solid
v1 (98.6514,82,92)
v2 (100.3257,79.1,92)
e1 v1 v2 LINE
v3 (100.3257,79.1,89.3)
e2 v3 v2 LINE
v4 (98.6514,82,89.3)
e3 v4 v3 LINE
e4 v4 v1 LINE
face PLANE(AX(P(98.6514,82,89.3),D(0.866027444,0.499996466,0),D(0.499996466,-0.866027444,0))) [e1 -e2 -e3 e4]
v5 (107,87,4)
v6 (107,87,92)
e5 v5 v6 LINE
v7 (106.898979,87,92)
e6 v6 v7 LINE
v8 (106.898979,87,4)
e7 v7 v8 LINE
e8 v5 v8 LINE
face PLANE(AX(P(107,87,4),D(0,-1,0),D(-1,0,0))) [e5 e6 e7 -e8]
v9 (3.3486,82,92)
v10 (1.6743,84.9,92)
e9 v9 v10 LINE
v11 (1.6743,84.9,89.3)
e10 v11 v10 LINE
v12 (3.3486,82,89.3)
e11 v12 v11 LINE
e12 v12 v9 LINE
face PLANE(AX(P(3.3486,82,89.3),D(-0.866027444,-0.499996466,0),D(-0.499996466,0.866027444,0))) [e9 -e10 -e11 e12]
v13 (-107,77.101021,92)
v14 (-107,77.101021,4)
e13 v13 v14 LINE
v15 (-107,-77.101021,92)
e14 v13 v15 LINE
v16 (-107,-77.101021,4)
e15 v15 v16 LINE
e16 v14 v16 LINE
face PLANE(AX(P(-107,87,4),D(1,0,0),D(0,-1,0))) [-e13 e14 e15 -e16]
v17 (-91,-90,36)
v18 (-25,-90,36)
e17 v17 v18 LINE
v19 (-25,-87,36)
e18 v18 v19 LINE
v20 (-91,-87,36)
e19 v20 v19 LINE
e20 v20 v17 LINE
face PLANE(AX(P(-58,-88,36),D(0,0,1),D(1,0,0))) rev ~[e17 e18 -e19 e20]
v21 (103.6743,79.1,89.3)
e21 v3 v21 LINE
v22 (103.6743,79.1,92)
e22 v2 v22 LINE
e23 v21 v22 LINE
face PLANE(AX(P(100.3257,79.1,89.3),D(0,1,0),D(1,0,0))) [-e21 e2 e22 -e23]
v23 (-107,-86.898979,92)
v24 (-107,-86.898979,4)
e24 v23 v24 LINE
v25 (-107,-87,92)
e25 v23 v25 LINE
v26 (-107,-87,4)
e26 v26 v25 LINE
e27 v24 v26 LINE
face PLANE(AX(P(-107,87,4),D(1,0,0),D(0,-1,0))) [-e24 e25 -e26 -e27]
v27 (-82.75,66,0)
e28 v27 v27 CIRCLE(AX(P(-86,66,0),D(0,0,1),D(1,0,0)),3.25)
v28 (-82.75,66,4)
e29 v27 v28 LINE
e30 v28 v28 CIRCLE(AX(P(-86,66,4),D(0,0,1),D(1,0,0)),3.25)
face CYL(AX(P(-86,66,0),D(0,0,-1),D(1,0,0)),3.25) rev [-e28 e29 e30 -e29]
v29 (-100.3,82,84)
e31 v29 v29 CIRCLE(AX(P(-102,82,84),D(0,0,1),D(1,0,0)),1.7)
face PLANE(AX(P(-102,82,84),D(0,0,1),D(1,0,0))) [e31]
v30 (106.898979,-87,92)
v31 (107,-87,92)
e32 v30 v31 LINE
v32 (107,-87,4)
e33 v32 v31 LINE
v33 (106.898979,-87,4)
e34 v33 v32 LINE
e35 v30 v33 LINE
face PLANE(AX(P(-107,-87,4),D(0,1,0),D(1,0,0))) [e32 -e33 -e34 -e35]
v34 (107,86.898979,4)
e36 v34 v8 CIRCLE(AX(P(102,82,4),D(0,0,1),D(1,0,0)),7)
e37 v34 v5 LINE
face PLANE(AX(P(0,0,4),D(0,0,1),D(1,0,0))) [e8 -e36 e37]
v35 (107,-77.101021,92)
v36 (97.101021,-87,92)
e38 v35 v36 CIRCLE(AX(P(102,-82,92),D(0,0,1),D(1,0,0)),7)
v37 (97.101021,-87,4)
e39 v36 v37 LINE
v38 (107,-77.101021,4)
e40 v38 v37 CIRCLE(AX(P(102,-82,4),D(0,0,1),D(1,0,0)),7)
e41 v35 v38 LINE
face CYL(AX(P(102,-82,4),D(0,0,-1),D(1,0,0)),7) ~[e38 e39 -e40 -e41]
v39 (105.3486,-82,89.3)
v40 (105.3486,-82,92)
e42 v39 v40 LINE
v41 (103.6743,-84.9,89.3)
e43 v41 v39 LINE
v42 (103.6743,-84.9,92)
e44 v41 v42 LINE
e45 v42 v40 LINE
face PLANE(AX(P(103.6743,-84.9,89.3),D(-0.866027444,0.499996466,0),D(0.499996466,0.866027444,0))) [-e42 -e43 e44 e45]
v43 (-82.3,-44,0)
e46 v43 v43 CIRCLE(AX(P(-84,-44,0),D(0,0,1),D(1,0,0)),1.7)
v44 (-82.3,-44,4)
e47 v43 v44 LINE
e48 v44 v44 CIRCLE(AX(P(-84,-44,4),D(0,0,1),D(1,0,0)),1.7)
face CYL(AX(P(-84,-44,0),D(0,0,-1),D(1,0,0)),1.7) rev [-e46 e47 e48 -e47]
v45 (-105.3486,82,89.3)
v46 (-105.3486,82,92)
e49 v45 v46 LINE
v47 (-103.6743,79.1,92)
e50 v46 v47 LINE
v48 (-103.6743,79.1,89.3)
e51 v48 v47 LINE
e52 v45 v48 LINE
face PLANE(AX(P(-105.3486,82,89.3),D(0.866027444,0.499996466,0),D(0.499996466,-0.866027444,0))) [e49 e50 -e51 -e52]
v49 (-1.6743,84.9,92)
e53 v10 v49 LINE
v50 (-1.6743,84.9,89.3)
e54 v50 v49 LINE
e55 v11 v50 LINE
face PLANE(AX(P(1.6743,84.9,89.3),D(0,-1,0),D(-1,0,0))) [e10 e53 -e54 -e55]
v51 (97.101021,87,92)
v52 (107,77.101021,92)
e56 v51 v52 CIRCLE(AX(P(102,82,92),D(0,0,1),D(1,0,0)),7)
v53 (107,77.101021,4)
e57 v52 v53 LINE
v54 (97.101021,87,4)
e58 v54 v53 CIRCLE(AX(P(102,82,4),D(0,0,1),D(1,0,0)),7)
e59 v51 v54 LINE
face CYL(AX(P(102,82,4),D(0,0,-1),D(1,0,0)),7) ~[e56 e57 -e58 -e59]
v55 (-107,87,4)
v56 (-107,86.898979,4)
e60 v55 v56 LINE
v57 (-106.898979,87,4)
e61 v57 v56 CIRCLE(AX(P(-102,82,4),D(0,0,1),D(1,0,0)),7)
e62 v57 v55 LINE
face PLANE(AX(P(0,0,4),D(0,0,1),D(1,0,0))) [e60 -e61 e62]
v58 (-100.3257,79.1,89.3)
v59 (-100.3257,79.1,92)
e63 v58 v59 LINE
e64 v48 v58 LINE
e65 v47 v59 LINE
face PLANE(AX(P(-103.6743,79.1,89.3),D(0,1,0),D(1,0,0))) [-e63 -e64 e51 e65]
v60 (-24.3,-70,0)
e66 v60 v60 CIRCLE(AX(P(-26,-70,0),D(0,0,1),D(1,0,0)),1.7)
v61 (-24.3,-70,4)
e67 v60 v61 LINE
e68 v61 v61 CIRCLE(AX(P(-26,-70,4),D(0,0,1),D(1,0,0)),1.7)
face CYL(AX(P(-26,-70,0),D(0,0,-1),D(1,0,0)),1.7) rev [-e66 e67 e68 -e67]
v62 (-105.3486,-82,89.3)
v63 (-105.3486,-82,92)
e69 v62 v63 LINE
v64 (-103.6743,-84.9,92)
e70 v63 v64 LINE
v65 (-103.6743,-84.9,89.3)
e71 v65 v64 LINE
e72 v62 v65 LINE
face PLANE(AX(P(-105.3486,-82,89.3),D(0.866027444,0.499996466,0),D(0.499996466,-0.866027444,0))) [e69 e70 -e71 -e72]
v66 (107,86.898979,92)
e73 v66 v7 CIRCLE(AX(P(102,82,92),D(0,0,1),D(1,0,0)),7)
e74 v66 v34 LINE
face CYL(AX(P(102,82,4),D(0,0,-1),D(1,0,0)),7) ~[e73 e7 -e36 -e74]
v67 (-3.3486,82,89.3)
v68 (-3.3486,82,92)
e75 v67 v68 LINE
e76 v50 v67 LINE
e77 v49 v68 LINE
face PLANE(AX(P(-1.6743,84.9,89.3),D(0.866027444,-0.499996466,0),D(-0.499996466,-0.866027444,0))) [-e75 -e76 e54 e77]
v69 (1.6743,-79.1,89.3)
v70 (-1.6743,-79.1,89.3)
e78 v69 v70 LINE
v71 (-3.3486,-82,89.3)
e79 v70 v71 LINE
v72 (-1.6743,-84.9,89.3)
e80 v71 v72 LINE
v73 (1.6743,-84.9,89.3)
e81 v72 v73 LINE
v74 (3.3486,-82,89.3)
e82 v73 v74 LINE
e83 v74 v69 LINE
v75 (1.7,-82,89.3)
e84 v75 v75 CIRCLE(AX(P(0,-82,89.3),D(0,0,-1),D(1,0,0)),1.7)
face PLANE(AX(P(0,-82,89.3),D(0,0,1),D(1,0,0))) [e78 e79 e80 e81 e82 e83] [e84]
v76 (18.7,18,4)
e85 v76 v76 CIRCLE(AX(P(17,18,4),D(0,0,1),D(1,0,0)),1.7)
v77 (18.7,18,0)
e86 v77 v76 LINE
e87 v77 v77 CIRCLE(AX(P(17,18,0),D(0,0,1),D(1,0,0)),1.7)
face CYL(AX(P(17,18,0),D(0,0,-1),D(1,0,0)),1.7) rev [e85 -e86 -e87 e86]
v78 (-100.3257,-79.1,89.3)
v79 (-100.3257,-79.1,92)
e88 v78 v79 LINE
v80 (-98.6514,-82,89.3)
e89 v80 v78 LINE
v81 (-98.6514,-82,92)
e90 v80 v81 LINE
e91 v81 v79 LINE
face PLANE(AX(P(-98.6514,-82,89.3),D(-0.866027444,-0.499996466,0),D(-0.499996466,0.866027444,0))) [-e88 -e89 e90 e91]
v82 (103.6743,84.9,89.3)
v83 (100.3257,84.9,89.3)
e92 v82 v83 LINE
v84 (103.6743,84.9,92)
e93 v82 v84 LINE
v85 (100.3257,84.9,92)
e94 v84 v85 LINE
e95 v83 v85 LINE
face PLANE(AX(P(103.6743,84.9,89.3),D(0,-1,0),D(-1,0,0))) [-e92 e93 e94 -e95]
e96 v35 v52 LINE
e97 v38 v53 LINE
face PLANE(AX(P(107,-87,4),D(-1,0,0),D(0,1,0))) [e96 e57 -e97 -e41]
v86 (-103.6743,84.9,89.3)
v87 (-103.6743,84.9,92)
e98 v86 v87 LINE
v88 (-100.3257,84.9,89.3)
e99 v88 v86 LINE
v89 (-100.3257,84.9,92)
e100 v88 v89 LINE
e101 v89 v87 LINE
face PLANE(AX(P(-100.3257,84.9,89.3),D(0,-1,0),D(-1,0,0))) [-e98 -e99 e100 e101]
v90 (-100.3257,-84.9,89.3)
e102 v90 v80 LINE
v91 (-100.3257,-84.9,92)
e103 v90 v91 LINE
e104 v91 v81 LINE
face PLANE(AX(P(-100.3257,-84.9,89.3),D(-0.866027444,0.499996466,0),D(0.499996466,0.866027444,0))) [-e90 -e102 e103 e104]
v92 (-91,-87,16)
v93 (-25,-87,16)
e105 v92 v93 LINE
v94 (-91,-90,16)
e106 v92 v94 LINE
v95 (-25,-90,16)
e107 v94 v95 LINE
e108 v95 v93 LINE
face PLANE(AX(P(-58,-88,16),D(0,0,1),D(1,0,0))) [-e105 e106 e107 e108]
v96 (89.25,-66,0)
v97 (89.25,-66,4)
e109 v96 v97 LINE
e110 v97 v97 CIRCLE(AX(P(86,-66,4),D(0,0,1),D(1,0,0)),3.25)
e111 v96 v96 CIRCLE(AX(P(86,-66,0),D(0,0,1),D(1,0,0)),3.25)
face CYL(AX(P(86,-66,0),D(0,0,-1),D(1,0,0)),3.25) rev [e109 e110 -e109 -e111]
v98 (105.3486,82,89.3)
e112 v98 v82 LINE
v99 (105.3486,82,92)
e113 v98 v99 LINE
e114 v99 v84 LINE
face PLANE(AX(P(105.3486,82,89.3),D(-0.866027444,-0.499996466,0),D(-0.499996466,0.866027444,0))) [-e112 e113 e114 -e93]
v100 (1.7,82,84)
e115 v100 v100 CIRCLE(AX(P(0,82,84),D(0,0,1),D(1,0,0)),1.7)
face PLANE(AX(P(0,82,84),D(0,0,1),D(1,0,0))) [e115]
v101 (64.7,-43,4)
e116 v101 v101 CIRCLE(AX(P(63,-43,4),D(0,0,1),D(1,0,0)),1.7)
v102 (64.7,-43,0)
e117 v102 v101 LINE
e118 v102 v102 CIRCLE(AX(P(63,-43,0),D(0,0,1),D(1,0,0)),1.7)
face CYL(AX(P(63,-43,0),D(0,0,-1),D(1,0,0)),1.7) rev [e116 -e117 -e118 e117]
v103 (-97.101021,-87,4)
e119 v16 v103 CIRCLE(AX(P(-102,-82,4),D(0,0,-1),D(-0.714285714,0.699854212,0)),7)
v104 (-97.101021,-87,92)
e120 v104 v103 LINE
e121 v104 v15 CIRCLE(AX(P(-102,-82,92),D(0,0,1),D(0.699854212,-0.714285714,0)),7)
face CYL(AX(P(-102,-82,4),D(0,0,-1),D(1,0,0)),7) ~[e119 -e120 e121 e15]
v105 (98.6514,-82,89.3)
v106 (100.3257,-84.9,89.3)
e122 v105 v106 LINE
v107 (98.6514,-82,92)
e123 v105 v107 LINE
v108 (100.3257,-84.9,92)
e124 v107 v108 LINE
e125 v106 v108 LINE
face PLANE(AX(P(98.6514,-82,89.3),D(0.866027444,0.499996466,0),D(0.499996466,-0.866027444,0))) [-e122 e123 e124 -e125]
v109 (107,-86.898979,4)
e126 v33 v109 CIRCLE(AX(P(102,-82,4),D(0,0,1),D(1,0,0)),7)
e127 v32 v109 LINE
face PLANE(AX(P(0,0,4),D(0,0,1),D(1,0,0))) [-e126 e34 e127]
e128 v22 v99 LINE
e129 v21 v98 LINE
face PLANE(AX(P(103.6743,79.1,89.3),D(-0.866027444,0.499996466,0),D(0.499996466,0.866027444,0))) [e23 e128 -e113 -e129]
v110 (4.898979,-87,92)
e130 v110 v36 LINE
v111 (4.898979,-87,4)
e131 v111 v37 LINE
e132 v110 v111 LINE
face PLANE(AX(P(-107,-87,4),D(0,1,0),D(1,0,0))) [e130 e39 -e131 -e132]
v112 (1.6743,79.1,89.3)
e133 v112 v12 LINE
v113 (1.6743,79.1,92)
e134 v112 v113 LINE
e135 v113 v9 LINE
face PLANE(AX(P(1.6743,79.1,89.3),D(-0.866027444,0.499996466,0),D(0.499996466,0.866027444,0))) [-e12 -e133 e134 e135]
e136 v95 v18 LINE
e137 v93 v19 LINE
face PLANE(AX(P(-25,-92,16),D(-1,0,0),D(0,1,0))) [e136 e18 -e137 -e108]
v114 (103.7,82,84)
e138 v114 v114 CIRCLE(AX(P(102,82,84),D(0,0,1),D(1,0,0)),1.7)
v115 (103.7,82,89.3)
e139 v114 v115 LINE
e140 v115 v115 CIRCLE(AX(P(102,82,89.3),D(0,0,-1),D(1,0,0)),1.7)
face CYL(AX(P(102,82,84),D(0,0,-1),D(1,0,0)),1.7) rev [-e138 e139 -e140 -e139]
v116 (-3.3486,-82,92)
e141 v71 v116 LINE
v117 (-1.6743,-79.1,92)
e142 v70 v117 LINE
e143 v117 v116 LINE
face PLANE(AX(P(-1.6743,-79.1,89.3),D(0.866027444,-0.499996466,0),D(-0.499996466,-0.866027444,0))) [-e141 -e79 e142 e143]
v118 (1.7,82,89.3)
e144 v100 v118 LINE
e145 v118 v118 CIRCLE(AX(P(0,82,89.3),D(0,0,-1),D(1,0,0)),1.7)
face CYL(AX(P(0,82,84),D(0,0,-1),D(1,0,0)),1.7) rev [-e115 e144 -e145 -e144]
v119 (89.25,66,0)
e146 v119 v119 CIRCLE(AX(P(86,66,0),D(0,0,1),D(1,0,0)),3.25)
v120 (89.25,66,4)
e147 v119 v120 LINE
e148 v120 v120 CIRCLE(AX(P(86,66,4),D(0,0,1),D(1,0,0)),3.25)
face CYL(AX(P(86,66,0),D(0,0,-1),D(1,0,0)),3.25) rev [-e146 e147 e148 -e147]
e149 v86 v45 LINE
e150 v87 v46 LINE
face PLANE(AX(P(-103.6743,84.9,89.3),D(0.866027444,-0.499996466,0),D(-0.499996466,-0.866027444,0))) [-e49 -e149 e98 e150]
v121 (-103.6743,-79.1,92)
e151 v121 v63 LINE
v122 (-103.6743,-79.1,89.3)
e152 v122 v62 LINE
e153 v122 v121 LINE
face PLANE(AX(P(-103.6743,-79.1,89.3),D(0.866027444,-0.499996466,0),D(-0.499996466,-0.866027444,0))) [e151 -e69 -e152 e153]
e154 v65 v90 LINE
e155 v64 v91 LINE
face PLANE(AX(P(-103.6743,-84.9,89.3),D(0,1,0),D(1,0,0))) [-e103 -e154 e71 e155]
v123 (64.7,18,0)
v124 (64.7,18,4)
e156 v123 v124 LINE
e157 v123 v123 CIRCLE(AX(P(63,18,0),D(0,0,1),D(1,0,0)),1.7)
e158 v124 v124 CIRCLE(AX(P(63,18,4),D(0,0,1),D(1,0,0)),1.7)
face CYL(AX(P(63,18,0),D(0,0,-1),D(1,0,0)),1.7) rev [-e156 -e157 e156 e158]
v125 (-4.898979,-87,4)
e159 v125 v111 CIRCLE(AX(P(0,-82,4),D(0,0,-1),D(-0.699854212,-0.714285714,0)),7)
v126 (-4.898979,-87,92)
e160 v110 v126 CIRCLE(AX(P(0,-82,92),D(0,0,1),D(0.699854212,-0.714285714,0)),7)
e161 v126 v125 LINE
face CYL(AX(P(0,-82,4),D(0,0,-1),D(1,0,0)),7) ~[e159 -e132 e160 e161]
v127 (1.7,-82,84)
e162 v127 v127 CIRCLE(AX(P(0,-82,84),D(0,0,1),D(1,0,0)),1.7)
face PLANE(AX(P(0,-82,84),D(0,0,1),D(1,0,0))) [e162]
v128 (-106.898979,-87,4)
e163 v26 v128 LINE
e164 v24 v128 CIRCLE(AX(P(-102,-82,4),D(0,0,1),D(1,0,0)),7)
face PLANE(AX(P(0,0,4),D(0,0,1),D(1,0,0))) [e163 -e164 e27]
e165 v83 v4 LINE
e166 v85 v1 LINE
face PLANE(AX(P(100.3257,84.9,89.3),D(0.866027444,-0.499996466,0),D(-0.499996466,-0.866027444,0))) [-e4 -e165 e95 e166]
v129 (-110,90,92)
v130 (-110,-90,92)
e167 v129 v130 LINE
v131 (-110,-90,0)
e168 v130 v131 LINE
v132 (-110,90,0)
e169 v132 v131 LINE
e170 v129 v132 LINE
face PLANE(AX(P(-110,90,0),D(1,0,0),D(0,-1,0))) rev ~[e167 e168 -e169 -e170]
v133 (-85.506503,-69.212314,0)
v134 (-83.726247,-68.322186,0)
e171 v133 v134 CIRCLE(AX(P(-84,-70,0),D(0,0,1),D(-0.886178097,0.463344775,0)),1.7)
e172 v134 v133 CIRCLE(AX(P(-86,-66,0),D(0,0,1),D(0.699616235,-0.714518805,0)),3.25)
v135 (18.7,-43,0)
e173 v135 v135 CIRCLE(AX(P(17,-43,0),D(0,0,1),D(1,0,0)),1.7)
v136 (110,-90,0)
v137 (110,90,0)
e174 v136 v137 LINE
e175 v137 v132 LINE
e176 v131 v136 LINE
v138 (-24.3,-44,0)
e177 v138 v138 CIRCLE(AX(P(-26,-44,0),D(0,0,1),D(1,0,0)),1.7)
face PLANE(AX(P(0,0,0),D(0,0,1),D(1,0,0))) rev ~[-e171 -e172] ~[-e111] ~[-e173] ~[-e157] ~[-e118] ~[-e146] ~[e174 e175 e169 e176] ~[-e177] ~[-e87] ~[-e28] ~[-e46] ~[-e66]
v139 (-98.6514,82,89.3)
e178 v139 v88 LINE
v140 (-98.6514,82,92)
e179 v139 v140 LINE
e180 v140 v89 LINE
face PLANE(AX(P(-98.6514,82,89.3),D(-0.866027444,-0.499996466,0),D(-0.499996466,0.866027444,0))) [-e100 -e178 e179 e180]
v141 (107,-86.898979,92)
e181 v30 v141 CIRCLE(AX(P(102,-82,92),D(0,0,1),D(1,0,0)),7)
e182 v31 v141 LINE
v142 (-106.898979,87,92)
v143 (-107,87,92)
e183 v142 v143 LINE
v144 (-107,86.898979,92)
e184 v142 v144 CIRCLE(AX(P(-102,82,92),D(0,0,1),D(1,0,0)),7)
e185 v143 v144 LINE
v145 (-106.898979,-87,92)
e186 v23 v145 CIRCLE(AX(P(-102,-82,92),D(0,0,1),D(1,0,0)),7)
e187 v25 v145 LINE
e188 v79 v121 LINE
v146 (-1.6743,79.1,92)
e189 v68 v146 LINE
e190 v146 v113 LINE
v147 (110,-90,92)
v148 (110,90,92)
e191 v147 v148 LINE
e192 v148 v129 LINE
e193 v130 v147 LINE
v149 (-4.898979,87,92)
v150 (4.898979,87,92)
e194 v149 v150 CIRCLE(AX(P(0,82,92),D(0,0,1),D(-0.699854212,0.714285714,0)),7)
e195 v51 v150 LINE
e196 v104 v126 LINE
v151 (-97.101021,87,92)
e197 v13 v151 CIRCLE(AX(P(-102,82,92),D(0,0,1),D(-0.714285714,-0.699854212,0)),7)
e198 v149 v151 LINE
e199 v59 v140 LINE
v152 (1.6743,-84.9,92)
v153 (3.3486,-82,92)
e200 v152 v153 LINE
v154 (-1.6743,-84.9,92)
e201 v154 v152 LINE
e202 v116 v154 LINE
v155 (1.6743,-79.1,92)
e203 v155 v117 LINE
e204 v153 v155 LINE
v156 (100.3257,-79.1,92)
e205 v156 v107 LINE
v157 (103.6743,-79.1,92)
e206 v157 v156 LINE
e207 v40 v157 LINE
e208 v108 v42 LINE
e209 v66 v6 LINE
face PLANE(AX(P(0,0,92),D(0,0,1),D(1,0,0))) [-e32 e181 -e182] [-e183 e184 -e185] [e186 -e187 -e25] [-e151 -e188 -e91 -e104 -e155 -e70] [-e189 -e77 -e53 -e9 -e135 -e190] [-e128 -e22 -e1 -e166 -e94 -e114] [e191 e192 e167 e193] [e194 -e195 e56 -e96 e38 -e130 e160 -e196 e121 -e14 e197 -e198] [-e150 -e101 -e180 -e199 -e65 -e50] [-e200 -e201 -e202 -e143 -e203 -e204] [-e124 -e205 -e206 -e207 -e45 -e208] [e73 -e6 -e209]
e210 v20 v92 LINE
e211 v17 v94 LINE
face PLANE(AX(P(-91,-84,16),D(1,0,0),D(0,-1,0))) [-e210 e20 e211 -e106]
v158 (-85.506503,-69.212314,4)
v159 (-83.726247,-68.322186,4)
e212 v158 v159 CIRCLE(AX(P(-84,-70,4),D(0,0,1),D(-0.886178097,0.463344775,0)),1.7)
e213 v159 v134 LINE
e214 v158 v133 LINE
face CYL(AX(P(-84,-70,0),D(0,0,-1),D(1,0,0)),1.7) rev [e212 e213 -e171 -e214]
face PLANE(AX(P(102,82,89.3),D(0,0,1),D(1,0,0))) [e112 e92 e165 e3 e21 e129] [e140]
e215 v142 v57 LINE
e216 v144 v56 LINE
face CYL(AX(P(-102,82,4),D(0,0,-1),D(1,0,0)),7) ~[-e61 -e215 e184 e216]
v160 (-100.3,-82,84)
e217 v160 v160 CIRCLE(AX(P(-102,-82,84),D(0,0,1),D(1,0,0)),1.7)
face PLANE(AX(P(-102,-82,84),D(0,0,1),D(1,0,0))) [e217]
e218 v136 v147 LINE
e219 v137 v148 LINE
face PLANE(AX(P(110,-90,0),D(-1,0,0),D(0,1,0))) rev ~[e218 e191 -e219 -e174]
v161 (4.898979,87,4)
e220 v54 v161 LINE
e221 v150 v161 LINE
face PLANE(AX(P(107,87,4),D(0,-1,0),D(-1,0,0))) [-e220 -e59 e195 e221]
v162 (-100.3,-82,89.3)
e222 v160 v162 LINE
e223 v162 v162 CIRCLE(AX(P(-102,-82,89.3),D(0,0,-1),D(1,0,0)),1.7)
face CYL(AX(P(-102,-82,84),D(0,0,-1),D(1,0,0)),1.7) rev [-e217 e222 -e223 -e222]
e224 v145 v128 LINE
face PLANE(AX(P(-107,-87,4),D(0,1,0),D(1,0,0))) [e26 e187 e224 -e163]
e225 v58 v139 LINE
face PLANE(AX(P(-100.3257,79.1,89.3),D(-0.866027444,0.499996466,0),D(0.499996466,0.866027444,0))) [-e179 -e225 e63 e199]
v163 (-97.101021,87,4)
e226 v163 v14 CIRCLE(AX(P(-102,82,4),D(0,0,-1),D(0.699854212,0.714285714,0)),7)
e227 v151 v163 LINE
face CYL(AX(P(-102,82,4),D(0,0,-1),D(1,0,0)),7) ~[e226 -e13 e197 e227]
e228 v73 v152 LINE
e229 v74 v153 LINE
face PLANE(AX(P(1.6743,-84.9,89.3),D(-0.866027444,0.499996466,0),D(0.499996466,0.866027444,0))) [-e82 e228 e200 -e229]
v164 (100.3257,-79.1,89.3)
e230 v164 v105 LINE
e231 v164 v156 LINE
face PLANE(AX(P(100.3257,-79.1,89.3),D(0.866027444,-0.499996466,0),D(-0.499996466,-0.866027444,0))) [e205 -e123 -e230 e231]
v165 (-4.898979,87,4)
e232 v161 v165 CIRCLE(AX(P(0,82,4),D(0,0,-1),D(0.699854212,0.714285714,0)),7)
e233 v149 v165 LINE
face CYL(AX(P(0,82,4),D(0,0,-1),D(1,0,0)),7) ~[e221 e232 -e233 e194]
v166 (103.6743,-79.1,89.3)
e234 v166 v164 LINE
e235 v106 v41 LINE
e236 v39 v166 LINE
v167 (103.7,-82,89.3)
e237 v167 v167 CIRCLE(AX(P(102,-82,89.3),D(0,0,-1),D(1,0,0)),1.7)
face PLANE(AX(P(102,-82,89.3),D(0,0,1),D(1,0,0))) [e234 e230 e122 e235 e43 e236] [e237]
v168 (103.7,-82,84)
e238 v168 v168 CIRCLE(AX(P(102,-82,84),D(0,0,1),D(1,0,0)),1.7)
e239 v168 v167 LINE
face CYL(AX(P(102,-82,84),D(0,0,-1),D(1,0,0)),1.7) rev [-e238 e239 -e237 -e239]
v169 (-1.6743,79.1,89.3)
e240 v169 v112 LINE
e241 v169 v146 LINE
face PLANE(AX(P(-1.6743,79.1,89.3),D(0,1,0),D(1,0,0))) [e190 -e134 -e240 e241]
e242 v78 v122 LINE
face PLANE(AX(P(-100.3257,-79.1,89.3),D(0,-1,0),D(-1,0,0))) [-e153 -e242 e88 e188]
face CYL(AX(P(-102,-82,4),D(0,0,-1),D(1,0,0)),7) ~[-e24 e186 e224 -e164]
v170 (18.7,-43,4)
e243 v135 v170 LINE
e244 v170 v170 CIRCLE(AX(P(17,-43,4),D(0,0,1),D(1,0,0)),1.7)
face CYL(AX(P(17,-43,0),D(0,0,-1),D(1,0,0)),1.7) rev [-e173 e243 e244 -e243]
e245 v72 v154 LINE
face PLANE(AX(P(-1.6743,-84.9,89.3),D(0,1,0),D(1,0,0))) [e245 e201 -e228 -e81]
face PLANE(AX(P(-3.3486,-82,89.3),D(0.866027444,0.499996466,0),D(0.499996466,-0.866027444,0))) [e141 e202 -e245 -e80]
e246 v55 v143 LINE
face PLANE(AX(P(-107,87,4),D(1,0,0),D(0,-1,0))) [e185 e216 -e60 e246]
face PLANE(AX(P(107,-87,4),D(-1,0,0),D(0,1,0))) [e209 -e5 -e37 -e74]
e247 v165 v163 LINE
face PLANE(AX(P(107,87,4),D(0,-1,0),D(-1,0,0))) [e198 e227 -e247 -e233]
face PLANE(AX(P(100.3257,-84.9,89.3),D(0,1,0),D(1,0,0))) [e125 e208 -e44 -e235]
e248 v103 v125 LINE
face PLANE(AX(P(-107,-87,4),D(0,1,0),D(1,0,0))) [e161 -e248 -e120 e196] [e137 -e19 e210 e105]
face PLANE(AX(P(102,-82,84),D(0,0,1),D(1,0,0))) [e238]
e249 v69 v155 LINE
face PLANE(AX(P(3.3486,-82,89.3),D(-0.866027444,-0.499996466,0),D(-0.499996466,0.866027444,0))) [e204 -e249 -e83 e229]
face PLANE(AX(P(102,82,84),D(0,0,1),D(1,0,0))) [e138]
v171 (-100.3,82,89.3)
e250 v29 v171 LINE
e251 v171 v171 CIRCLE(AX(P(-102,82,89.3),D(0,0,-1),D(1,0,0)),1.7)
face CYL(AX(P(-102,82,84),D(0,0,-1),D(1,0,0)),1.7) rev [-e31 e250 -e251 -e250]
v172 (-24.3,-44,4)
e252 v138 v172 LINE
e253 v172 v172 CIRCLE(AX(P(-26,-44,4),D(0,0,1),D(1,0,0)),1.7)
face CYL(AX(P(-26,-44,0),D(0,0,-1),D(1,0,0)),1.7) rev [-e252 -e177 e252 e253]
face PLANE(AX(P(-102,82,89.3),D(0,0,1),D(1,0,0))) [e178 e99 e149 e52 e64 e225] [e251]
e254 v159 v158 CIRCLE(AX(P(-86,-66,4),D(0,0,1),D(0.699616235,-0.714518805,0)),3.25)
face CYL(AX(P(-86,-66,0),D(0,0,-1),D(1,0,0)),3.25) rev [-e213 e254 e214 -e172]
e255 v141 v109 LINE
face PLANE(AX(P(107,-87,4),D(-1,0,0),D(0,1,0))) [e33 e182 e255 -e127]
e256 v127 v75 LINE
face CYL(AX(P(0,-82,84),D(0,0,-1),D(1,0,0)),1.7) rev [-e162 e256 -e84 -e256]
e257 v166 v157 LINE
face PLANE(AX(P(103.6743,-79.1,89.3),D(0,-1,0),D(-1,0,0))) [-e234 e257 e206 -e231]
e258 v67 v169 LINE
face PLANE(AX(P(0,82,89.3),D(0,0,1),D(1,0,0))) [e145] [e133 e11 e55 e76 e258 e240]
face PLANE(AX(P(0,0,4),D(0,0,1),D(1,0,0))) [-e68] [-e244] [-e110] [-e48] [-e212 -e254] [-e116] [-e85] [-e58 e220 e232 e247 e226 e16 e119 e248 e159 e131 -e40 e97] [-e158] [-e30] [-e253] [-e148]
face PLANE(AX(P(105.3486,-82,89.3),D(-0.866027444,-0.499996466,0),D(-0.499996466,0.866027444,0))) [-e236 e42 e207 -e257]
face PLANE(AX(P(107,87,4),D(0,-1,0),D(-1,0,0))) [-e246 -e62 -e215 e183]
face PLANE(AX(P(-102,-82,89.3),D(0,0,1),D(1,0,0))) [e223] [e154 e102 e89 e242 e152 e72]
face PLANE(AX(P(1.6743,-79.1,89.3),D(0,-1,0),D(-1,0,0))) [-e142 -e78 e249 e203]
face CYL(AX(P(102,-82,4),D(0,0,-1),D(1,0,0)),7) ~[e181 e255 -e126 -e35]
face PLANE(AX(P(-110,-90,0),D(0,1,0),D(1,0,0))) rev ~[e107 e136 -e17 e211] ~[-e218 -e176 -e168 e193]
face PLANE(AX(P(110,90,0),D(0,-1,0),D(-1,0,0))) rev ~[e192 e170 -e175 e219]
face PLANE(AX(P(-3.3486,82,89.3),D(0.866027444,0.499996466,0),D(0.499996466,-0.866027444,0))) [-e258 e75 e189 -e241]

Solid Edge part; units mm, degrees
sketch "Sketch1" plane through (0, 0, 0) normal (0, 0, 1) x (1, 0, 0)
  line L0 (-110, -90) -> (110, -90)
  line L1 (110, -90) -> (110, 90)
  line L2 (110, 90) -> (-110, 90)
  line L3 (-110, 90) -> (-110, -90)
  circle A0 centre (-86, -66) radius 3.25
  circle A1 centre (-86, 66) radius 3.25
  circle A2 centre (86, -66) radius 3.25
  circle A3 centre (86, 66) radius 3.25
extrude "Protrusion1" add sketch "Sketch1" along normal blind 4
sketch "Sketch2" plane through (0, 0, 4) normal (0, 0, 1) x (1, 0, 0)
  line L0 (-110, -90) -> (110, -90)
  line L1 (110, -90) -> (110, 90)
  line L2 (110, 90) -> (-110, 90)
  line L3 (-110, 90) -> (-110, -90)
  line L4 (-107, -87) -> (107, -87)
  line L5 (107, -87) -> (107, 87)
  line L6 (107, 87) -> (-107, 87)
  line L7 (-107, 87) -> (-107, -87)
extrude "ExtrudedProtrusion_2" add sketch "Sketch2" along normal blind 88
sketch "Sketch3" plane through (0, 0, 4) normal (0, 0, 1) x (1, 0, 0)
  circle A0 centre (-102, -82) radius 7
extrude "ExtrudedProtrusion_3" add sketch "Sketch3" along normal blind 88
sketch "Sketch4" plane through (0, 0, 4) normal (0, 0, 1) x (1, 0, 0)
  circle A0 centre (-102, 82) radius 7
extrude "ExtrudedProtrusion_4" add sketch "Sketch4" along normal blind 88
sketch "Sketch5" plane through (0, 0, 4) normal (0, 0, 1) x (1, 0, 0)
  circle A0 centre (102, -82) radius 7
extrude "ExtrudedProtrusion_5" add sketch "Sketch5" along normal blind 88
sketch "Sketch6" plane through (0, 0, 4) normal (0, 0, 1) x (1, 0, 0)
  circle A0 centre (102, 82) radius 7
extrude "ExtrudedProtrusion_6" add sketch "Sketch6" along normal blind 88
sketch "Sketch7" plane through (0, 0, 4) normal (0, 0, 1) x (1, 0, 0)
  circle A0 centre (0, -82) radius 7
extrude "ExtrudedProtrusion_7" add sketch "Sketch7" along normal blind 88
sketch "Sketch8" plane through (0, 0, 4) normal (0, 0, 1) x (1, 0, 0)
  circle A0 centre (0, 82) radius 7
extrude "ExtrudedProtrusion_8" add sketch "Sketch8" along normal blind 88
sketch "Sketch9" plane through (0, 0, 84) normal (0, 0, 1) x (1, 0, 0)
  circle A0 centre (-102, -82) radius 1.7
  circle A1 centre (-102, 82) radius 1.7
  circle A2 centre (102, -82) radius 1.7
  circle A3 centre (102, 82) radius 1.7
  circle A4 centre (0, -82) radius 1.7
  circle A5 centre (0, 82) radius 1.7
extrude "ExtrudedCutout_1" cut sketch "Sketch9" along normal blind 8
sketch "Sketch10" plane through (0, 0, 89.3) normal (0, 0, 1) x (1, 0, 0)
  line L0 (-98.6514, -82) -> (-100.3257, -79.1)
  line L1 (-100.3257, -79.1) -> (-103.6743, -79.1)
  line L2 (-103.6743, -79.1) -> (-105.3486, -82)
  line L3 (-105.3486, -82) -> (-103.6743, -84.9)
  line L4 (-103.6743, -84.9) -> (-100.3257, -84.9)
  line L5 (-100.3257, -84.9) -> (-98.6514, -82)
  line L6 (-98.6514, 82) -> (-100.3257, 84.9)
  line L7 (-100.3257, 84.9) -> (-103.6743, 84.9)
  line L8 (-103.6743, 84.9) -> (-105.3486, 82)
  line L9 (-105.3486, 82) -> (-103.6743, 79.1)
  line L10 (-103.6743, 79.1) -> (-100.3257, 79.1)
  line L11 (-100.3257, 79.1) -> (-98.6514, 82)
  line L12 (105.3486, -82) -> (103.6743, -79.1)
  line L13 (103.6743, -79.1) -> (100.3257, -79.1)
  line L14 (100.3257, -79.1) -> (98.6514, -82)
  line L15 (98.6514, -82) -> (100.3257, -84.9)
  line L16 (100.3257, -84.9) -> (103.6743, -84.9)
  line L17 (103.6743, -84.9) -> (105.3486, -82)
  line L18 (105.3486, 82) -> (103.6743, 84.9)
  line L19 (103.6743, 84.9) -> (100.3257, 84.9)
  line L20 (100.3257, 84.9) -> (98.6514, 82)
  line L21 (98.6514, 82) -> (100.3257, 79.1)
  line L22 (100.3257, 79.1) -> (103.6743, 79.1)
  line L23 (103.6743, 79.1) -> (105.3486, 82)
  line L24 (3.3486, -82) -> (1.6743, -79.1)
  line L25 (1.6743, -79.1) -> (-1.6743, -79.1)
  line L26 (-1.6743, -79.1) -> (-3.3486, -82)
  line L27 (-3.3486, -82) -> (-1.6743, -84.9)
  line L28 (-1.6743, -84.9) -> (1.6743, -84.9)
  line L29 (1.6743, -84.9) -> (3.3486, -82)
  line L30 (3.3486, 82) -> (1.6743, 84.9)
  line L31 (1.6743, 84.9) -> (-1.6743, 84.9)
  line L32 (-1.6743, 84.9) -> (-3.3486, 82)
  line L33 (-3.3486, 82) -> (-1.6743, 79.1)
  line L34 (-1.6743, 79.1) -> (1.6743, 79.1)
  line L35 (1.6743, 79.1) -> (3.3486, 82)
extrude "ExtrudedCutout_2" cut sketch "Sketch10" along normal blind 2.7
sketch "Sketch11" plane through (0, 0, 16) normal (0, 0, 1) x (1, 0, 0)
  line L0 (-91, -92) -> (-25, -92)
  line L1 (-25, -92) -> (-25, -84)
  line L2 (-25, -84) -> (-91, -84)
  line L3 (-91, -84) -> (-91, -92)
extrude "ExtrudedCutout_3" cut sketch "Sketch11" along normal blind 20
sketch "Sketch12" plane through (0, 0, 0) normal (0, 0, 1) x (1, 0, 0)
  circle A0 centre (17, -43) radius 1.7
  circle A1 centre (63, -43) radius 1.7
  circle A2 centre (17, 18) radius 1.7
  circle A3 centre (63, 18) radius 1.7
extrude "ExtrudedCutout_4" cut sketch "Sketch12" along normal blind 4
sketch "Sketch13" plane through (0, 0, 0) normal (0, 0, 1) x (1, 0, 0)
  circle A0 centre (-84, -70) radius 1.7
  circle A1 centre (-84, -44) radius 1.7
  circle A2 centre (-26, -70) radius 1.7
  circle A3 centre (-26, -44) radius 1.7
extrude "ExtrudedCutout_5" cut sketch "Sketch13" along normal blind 4
